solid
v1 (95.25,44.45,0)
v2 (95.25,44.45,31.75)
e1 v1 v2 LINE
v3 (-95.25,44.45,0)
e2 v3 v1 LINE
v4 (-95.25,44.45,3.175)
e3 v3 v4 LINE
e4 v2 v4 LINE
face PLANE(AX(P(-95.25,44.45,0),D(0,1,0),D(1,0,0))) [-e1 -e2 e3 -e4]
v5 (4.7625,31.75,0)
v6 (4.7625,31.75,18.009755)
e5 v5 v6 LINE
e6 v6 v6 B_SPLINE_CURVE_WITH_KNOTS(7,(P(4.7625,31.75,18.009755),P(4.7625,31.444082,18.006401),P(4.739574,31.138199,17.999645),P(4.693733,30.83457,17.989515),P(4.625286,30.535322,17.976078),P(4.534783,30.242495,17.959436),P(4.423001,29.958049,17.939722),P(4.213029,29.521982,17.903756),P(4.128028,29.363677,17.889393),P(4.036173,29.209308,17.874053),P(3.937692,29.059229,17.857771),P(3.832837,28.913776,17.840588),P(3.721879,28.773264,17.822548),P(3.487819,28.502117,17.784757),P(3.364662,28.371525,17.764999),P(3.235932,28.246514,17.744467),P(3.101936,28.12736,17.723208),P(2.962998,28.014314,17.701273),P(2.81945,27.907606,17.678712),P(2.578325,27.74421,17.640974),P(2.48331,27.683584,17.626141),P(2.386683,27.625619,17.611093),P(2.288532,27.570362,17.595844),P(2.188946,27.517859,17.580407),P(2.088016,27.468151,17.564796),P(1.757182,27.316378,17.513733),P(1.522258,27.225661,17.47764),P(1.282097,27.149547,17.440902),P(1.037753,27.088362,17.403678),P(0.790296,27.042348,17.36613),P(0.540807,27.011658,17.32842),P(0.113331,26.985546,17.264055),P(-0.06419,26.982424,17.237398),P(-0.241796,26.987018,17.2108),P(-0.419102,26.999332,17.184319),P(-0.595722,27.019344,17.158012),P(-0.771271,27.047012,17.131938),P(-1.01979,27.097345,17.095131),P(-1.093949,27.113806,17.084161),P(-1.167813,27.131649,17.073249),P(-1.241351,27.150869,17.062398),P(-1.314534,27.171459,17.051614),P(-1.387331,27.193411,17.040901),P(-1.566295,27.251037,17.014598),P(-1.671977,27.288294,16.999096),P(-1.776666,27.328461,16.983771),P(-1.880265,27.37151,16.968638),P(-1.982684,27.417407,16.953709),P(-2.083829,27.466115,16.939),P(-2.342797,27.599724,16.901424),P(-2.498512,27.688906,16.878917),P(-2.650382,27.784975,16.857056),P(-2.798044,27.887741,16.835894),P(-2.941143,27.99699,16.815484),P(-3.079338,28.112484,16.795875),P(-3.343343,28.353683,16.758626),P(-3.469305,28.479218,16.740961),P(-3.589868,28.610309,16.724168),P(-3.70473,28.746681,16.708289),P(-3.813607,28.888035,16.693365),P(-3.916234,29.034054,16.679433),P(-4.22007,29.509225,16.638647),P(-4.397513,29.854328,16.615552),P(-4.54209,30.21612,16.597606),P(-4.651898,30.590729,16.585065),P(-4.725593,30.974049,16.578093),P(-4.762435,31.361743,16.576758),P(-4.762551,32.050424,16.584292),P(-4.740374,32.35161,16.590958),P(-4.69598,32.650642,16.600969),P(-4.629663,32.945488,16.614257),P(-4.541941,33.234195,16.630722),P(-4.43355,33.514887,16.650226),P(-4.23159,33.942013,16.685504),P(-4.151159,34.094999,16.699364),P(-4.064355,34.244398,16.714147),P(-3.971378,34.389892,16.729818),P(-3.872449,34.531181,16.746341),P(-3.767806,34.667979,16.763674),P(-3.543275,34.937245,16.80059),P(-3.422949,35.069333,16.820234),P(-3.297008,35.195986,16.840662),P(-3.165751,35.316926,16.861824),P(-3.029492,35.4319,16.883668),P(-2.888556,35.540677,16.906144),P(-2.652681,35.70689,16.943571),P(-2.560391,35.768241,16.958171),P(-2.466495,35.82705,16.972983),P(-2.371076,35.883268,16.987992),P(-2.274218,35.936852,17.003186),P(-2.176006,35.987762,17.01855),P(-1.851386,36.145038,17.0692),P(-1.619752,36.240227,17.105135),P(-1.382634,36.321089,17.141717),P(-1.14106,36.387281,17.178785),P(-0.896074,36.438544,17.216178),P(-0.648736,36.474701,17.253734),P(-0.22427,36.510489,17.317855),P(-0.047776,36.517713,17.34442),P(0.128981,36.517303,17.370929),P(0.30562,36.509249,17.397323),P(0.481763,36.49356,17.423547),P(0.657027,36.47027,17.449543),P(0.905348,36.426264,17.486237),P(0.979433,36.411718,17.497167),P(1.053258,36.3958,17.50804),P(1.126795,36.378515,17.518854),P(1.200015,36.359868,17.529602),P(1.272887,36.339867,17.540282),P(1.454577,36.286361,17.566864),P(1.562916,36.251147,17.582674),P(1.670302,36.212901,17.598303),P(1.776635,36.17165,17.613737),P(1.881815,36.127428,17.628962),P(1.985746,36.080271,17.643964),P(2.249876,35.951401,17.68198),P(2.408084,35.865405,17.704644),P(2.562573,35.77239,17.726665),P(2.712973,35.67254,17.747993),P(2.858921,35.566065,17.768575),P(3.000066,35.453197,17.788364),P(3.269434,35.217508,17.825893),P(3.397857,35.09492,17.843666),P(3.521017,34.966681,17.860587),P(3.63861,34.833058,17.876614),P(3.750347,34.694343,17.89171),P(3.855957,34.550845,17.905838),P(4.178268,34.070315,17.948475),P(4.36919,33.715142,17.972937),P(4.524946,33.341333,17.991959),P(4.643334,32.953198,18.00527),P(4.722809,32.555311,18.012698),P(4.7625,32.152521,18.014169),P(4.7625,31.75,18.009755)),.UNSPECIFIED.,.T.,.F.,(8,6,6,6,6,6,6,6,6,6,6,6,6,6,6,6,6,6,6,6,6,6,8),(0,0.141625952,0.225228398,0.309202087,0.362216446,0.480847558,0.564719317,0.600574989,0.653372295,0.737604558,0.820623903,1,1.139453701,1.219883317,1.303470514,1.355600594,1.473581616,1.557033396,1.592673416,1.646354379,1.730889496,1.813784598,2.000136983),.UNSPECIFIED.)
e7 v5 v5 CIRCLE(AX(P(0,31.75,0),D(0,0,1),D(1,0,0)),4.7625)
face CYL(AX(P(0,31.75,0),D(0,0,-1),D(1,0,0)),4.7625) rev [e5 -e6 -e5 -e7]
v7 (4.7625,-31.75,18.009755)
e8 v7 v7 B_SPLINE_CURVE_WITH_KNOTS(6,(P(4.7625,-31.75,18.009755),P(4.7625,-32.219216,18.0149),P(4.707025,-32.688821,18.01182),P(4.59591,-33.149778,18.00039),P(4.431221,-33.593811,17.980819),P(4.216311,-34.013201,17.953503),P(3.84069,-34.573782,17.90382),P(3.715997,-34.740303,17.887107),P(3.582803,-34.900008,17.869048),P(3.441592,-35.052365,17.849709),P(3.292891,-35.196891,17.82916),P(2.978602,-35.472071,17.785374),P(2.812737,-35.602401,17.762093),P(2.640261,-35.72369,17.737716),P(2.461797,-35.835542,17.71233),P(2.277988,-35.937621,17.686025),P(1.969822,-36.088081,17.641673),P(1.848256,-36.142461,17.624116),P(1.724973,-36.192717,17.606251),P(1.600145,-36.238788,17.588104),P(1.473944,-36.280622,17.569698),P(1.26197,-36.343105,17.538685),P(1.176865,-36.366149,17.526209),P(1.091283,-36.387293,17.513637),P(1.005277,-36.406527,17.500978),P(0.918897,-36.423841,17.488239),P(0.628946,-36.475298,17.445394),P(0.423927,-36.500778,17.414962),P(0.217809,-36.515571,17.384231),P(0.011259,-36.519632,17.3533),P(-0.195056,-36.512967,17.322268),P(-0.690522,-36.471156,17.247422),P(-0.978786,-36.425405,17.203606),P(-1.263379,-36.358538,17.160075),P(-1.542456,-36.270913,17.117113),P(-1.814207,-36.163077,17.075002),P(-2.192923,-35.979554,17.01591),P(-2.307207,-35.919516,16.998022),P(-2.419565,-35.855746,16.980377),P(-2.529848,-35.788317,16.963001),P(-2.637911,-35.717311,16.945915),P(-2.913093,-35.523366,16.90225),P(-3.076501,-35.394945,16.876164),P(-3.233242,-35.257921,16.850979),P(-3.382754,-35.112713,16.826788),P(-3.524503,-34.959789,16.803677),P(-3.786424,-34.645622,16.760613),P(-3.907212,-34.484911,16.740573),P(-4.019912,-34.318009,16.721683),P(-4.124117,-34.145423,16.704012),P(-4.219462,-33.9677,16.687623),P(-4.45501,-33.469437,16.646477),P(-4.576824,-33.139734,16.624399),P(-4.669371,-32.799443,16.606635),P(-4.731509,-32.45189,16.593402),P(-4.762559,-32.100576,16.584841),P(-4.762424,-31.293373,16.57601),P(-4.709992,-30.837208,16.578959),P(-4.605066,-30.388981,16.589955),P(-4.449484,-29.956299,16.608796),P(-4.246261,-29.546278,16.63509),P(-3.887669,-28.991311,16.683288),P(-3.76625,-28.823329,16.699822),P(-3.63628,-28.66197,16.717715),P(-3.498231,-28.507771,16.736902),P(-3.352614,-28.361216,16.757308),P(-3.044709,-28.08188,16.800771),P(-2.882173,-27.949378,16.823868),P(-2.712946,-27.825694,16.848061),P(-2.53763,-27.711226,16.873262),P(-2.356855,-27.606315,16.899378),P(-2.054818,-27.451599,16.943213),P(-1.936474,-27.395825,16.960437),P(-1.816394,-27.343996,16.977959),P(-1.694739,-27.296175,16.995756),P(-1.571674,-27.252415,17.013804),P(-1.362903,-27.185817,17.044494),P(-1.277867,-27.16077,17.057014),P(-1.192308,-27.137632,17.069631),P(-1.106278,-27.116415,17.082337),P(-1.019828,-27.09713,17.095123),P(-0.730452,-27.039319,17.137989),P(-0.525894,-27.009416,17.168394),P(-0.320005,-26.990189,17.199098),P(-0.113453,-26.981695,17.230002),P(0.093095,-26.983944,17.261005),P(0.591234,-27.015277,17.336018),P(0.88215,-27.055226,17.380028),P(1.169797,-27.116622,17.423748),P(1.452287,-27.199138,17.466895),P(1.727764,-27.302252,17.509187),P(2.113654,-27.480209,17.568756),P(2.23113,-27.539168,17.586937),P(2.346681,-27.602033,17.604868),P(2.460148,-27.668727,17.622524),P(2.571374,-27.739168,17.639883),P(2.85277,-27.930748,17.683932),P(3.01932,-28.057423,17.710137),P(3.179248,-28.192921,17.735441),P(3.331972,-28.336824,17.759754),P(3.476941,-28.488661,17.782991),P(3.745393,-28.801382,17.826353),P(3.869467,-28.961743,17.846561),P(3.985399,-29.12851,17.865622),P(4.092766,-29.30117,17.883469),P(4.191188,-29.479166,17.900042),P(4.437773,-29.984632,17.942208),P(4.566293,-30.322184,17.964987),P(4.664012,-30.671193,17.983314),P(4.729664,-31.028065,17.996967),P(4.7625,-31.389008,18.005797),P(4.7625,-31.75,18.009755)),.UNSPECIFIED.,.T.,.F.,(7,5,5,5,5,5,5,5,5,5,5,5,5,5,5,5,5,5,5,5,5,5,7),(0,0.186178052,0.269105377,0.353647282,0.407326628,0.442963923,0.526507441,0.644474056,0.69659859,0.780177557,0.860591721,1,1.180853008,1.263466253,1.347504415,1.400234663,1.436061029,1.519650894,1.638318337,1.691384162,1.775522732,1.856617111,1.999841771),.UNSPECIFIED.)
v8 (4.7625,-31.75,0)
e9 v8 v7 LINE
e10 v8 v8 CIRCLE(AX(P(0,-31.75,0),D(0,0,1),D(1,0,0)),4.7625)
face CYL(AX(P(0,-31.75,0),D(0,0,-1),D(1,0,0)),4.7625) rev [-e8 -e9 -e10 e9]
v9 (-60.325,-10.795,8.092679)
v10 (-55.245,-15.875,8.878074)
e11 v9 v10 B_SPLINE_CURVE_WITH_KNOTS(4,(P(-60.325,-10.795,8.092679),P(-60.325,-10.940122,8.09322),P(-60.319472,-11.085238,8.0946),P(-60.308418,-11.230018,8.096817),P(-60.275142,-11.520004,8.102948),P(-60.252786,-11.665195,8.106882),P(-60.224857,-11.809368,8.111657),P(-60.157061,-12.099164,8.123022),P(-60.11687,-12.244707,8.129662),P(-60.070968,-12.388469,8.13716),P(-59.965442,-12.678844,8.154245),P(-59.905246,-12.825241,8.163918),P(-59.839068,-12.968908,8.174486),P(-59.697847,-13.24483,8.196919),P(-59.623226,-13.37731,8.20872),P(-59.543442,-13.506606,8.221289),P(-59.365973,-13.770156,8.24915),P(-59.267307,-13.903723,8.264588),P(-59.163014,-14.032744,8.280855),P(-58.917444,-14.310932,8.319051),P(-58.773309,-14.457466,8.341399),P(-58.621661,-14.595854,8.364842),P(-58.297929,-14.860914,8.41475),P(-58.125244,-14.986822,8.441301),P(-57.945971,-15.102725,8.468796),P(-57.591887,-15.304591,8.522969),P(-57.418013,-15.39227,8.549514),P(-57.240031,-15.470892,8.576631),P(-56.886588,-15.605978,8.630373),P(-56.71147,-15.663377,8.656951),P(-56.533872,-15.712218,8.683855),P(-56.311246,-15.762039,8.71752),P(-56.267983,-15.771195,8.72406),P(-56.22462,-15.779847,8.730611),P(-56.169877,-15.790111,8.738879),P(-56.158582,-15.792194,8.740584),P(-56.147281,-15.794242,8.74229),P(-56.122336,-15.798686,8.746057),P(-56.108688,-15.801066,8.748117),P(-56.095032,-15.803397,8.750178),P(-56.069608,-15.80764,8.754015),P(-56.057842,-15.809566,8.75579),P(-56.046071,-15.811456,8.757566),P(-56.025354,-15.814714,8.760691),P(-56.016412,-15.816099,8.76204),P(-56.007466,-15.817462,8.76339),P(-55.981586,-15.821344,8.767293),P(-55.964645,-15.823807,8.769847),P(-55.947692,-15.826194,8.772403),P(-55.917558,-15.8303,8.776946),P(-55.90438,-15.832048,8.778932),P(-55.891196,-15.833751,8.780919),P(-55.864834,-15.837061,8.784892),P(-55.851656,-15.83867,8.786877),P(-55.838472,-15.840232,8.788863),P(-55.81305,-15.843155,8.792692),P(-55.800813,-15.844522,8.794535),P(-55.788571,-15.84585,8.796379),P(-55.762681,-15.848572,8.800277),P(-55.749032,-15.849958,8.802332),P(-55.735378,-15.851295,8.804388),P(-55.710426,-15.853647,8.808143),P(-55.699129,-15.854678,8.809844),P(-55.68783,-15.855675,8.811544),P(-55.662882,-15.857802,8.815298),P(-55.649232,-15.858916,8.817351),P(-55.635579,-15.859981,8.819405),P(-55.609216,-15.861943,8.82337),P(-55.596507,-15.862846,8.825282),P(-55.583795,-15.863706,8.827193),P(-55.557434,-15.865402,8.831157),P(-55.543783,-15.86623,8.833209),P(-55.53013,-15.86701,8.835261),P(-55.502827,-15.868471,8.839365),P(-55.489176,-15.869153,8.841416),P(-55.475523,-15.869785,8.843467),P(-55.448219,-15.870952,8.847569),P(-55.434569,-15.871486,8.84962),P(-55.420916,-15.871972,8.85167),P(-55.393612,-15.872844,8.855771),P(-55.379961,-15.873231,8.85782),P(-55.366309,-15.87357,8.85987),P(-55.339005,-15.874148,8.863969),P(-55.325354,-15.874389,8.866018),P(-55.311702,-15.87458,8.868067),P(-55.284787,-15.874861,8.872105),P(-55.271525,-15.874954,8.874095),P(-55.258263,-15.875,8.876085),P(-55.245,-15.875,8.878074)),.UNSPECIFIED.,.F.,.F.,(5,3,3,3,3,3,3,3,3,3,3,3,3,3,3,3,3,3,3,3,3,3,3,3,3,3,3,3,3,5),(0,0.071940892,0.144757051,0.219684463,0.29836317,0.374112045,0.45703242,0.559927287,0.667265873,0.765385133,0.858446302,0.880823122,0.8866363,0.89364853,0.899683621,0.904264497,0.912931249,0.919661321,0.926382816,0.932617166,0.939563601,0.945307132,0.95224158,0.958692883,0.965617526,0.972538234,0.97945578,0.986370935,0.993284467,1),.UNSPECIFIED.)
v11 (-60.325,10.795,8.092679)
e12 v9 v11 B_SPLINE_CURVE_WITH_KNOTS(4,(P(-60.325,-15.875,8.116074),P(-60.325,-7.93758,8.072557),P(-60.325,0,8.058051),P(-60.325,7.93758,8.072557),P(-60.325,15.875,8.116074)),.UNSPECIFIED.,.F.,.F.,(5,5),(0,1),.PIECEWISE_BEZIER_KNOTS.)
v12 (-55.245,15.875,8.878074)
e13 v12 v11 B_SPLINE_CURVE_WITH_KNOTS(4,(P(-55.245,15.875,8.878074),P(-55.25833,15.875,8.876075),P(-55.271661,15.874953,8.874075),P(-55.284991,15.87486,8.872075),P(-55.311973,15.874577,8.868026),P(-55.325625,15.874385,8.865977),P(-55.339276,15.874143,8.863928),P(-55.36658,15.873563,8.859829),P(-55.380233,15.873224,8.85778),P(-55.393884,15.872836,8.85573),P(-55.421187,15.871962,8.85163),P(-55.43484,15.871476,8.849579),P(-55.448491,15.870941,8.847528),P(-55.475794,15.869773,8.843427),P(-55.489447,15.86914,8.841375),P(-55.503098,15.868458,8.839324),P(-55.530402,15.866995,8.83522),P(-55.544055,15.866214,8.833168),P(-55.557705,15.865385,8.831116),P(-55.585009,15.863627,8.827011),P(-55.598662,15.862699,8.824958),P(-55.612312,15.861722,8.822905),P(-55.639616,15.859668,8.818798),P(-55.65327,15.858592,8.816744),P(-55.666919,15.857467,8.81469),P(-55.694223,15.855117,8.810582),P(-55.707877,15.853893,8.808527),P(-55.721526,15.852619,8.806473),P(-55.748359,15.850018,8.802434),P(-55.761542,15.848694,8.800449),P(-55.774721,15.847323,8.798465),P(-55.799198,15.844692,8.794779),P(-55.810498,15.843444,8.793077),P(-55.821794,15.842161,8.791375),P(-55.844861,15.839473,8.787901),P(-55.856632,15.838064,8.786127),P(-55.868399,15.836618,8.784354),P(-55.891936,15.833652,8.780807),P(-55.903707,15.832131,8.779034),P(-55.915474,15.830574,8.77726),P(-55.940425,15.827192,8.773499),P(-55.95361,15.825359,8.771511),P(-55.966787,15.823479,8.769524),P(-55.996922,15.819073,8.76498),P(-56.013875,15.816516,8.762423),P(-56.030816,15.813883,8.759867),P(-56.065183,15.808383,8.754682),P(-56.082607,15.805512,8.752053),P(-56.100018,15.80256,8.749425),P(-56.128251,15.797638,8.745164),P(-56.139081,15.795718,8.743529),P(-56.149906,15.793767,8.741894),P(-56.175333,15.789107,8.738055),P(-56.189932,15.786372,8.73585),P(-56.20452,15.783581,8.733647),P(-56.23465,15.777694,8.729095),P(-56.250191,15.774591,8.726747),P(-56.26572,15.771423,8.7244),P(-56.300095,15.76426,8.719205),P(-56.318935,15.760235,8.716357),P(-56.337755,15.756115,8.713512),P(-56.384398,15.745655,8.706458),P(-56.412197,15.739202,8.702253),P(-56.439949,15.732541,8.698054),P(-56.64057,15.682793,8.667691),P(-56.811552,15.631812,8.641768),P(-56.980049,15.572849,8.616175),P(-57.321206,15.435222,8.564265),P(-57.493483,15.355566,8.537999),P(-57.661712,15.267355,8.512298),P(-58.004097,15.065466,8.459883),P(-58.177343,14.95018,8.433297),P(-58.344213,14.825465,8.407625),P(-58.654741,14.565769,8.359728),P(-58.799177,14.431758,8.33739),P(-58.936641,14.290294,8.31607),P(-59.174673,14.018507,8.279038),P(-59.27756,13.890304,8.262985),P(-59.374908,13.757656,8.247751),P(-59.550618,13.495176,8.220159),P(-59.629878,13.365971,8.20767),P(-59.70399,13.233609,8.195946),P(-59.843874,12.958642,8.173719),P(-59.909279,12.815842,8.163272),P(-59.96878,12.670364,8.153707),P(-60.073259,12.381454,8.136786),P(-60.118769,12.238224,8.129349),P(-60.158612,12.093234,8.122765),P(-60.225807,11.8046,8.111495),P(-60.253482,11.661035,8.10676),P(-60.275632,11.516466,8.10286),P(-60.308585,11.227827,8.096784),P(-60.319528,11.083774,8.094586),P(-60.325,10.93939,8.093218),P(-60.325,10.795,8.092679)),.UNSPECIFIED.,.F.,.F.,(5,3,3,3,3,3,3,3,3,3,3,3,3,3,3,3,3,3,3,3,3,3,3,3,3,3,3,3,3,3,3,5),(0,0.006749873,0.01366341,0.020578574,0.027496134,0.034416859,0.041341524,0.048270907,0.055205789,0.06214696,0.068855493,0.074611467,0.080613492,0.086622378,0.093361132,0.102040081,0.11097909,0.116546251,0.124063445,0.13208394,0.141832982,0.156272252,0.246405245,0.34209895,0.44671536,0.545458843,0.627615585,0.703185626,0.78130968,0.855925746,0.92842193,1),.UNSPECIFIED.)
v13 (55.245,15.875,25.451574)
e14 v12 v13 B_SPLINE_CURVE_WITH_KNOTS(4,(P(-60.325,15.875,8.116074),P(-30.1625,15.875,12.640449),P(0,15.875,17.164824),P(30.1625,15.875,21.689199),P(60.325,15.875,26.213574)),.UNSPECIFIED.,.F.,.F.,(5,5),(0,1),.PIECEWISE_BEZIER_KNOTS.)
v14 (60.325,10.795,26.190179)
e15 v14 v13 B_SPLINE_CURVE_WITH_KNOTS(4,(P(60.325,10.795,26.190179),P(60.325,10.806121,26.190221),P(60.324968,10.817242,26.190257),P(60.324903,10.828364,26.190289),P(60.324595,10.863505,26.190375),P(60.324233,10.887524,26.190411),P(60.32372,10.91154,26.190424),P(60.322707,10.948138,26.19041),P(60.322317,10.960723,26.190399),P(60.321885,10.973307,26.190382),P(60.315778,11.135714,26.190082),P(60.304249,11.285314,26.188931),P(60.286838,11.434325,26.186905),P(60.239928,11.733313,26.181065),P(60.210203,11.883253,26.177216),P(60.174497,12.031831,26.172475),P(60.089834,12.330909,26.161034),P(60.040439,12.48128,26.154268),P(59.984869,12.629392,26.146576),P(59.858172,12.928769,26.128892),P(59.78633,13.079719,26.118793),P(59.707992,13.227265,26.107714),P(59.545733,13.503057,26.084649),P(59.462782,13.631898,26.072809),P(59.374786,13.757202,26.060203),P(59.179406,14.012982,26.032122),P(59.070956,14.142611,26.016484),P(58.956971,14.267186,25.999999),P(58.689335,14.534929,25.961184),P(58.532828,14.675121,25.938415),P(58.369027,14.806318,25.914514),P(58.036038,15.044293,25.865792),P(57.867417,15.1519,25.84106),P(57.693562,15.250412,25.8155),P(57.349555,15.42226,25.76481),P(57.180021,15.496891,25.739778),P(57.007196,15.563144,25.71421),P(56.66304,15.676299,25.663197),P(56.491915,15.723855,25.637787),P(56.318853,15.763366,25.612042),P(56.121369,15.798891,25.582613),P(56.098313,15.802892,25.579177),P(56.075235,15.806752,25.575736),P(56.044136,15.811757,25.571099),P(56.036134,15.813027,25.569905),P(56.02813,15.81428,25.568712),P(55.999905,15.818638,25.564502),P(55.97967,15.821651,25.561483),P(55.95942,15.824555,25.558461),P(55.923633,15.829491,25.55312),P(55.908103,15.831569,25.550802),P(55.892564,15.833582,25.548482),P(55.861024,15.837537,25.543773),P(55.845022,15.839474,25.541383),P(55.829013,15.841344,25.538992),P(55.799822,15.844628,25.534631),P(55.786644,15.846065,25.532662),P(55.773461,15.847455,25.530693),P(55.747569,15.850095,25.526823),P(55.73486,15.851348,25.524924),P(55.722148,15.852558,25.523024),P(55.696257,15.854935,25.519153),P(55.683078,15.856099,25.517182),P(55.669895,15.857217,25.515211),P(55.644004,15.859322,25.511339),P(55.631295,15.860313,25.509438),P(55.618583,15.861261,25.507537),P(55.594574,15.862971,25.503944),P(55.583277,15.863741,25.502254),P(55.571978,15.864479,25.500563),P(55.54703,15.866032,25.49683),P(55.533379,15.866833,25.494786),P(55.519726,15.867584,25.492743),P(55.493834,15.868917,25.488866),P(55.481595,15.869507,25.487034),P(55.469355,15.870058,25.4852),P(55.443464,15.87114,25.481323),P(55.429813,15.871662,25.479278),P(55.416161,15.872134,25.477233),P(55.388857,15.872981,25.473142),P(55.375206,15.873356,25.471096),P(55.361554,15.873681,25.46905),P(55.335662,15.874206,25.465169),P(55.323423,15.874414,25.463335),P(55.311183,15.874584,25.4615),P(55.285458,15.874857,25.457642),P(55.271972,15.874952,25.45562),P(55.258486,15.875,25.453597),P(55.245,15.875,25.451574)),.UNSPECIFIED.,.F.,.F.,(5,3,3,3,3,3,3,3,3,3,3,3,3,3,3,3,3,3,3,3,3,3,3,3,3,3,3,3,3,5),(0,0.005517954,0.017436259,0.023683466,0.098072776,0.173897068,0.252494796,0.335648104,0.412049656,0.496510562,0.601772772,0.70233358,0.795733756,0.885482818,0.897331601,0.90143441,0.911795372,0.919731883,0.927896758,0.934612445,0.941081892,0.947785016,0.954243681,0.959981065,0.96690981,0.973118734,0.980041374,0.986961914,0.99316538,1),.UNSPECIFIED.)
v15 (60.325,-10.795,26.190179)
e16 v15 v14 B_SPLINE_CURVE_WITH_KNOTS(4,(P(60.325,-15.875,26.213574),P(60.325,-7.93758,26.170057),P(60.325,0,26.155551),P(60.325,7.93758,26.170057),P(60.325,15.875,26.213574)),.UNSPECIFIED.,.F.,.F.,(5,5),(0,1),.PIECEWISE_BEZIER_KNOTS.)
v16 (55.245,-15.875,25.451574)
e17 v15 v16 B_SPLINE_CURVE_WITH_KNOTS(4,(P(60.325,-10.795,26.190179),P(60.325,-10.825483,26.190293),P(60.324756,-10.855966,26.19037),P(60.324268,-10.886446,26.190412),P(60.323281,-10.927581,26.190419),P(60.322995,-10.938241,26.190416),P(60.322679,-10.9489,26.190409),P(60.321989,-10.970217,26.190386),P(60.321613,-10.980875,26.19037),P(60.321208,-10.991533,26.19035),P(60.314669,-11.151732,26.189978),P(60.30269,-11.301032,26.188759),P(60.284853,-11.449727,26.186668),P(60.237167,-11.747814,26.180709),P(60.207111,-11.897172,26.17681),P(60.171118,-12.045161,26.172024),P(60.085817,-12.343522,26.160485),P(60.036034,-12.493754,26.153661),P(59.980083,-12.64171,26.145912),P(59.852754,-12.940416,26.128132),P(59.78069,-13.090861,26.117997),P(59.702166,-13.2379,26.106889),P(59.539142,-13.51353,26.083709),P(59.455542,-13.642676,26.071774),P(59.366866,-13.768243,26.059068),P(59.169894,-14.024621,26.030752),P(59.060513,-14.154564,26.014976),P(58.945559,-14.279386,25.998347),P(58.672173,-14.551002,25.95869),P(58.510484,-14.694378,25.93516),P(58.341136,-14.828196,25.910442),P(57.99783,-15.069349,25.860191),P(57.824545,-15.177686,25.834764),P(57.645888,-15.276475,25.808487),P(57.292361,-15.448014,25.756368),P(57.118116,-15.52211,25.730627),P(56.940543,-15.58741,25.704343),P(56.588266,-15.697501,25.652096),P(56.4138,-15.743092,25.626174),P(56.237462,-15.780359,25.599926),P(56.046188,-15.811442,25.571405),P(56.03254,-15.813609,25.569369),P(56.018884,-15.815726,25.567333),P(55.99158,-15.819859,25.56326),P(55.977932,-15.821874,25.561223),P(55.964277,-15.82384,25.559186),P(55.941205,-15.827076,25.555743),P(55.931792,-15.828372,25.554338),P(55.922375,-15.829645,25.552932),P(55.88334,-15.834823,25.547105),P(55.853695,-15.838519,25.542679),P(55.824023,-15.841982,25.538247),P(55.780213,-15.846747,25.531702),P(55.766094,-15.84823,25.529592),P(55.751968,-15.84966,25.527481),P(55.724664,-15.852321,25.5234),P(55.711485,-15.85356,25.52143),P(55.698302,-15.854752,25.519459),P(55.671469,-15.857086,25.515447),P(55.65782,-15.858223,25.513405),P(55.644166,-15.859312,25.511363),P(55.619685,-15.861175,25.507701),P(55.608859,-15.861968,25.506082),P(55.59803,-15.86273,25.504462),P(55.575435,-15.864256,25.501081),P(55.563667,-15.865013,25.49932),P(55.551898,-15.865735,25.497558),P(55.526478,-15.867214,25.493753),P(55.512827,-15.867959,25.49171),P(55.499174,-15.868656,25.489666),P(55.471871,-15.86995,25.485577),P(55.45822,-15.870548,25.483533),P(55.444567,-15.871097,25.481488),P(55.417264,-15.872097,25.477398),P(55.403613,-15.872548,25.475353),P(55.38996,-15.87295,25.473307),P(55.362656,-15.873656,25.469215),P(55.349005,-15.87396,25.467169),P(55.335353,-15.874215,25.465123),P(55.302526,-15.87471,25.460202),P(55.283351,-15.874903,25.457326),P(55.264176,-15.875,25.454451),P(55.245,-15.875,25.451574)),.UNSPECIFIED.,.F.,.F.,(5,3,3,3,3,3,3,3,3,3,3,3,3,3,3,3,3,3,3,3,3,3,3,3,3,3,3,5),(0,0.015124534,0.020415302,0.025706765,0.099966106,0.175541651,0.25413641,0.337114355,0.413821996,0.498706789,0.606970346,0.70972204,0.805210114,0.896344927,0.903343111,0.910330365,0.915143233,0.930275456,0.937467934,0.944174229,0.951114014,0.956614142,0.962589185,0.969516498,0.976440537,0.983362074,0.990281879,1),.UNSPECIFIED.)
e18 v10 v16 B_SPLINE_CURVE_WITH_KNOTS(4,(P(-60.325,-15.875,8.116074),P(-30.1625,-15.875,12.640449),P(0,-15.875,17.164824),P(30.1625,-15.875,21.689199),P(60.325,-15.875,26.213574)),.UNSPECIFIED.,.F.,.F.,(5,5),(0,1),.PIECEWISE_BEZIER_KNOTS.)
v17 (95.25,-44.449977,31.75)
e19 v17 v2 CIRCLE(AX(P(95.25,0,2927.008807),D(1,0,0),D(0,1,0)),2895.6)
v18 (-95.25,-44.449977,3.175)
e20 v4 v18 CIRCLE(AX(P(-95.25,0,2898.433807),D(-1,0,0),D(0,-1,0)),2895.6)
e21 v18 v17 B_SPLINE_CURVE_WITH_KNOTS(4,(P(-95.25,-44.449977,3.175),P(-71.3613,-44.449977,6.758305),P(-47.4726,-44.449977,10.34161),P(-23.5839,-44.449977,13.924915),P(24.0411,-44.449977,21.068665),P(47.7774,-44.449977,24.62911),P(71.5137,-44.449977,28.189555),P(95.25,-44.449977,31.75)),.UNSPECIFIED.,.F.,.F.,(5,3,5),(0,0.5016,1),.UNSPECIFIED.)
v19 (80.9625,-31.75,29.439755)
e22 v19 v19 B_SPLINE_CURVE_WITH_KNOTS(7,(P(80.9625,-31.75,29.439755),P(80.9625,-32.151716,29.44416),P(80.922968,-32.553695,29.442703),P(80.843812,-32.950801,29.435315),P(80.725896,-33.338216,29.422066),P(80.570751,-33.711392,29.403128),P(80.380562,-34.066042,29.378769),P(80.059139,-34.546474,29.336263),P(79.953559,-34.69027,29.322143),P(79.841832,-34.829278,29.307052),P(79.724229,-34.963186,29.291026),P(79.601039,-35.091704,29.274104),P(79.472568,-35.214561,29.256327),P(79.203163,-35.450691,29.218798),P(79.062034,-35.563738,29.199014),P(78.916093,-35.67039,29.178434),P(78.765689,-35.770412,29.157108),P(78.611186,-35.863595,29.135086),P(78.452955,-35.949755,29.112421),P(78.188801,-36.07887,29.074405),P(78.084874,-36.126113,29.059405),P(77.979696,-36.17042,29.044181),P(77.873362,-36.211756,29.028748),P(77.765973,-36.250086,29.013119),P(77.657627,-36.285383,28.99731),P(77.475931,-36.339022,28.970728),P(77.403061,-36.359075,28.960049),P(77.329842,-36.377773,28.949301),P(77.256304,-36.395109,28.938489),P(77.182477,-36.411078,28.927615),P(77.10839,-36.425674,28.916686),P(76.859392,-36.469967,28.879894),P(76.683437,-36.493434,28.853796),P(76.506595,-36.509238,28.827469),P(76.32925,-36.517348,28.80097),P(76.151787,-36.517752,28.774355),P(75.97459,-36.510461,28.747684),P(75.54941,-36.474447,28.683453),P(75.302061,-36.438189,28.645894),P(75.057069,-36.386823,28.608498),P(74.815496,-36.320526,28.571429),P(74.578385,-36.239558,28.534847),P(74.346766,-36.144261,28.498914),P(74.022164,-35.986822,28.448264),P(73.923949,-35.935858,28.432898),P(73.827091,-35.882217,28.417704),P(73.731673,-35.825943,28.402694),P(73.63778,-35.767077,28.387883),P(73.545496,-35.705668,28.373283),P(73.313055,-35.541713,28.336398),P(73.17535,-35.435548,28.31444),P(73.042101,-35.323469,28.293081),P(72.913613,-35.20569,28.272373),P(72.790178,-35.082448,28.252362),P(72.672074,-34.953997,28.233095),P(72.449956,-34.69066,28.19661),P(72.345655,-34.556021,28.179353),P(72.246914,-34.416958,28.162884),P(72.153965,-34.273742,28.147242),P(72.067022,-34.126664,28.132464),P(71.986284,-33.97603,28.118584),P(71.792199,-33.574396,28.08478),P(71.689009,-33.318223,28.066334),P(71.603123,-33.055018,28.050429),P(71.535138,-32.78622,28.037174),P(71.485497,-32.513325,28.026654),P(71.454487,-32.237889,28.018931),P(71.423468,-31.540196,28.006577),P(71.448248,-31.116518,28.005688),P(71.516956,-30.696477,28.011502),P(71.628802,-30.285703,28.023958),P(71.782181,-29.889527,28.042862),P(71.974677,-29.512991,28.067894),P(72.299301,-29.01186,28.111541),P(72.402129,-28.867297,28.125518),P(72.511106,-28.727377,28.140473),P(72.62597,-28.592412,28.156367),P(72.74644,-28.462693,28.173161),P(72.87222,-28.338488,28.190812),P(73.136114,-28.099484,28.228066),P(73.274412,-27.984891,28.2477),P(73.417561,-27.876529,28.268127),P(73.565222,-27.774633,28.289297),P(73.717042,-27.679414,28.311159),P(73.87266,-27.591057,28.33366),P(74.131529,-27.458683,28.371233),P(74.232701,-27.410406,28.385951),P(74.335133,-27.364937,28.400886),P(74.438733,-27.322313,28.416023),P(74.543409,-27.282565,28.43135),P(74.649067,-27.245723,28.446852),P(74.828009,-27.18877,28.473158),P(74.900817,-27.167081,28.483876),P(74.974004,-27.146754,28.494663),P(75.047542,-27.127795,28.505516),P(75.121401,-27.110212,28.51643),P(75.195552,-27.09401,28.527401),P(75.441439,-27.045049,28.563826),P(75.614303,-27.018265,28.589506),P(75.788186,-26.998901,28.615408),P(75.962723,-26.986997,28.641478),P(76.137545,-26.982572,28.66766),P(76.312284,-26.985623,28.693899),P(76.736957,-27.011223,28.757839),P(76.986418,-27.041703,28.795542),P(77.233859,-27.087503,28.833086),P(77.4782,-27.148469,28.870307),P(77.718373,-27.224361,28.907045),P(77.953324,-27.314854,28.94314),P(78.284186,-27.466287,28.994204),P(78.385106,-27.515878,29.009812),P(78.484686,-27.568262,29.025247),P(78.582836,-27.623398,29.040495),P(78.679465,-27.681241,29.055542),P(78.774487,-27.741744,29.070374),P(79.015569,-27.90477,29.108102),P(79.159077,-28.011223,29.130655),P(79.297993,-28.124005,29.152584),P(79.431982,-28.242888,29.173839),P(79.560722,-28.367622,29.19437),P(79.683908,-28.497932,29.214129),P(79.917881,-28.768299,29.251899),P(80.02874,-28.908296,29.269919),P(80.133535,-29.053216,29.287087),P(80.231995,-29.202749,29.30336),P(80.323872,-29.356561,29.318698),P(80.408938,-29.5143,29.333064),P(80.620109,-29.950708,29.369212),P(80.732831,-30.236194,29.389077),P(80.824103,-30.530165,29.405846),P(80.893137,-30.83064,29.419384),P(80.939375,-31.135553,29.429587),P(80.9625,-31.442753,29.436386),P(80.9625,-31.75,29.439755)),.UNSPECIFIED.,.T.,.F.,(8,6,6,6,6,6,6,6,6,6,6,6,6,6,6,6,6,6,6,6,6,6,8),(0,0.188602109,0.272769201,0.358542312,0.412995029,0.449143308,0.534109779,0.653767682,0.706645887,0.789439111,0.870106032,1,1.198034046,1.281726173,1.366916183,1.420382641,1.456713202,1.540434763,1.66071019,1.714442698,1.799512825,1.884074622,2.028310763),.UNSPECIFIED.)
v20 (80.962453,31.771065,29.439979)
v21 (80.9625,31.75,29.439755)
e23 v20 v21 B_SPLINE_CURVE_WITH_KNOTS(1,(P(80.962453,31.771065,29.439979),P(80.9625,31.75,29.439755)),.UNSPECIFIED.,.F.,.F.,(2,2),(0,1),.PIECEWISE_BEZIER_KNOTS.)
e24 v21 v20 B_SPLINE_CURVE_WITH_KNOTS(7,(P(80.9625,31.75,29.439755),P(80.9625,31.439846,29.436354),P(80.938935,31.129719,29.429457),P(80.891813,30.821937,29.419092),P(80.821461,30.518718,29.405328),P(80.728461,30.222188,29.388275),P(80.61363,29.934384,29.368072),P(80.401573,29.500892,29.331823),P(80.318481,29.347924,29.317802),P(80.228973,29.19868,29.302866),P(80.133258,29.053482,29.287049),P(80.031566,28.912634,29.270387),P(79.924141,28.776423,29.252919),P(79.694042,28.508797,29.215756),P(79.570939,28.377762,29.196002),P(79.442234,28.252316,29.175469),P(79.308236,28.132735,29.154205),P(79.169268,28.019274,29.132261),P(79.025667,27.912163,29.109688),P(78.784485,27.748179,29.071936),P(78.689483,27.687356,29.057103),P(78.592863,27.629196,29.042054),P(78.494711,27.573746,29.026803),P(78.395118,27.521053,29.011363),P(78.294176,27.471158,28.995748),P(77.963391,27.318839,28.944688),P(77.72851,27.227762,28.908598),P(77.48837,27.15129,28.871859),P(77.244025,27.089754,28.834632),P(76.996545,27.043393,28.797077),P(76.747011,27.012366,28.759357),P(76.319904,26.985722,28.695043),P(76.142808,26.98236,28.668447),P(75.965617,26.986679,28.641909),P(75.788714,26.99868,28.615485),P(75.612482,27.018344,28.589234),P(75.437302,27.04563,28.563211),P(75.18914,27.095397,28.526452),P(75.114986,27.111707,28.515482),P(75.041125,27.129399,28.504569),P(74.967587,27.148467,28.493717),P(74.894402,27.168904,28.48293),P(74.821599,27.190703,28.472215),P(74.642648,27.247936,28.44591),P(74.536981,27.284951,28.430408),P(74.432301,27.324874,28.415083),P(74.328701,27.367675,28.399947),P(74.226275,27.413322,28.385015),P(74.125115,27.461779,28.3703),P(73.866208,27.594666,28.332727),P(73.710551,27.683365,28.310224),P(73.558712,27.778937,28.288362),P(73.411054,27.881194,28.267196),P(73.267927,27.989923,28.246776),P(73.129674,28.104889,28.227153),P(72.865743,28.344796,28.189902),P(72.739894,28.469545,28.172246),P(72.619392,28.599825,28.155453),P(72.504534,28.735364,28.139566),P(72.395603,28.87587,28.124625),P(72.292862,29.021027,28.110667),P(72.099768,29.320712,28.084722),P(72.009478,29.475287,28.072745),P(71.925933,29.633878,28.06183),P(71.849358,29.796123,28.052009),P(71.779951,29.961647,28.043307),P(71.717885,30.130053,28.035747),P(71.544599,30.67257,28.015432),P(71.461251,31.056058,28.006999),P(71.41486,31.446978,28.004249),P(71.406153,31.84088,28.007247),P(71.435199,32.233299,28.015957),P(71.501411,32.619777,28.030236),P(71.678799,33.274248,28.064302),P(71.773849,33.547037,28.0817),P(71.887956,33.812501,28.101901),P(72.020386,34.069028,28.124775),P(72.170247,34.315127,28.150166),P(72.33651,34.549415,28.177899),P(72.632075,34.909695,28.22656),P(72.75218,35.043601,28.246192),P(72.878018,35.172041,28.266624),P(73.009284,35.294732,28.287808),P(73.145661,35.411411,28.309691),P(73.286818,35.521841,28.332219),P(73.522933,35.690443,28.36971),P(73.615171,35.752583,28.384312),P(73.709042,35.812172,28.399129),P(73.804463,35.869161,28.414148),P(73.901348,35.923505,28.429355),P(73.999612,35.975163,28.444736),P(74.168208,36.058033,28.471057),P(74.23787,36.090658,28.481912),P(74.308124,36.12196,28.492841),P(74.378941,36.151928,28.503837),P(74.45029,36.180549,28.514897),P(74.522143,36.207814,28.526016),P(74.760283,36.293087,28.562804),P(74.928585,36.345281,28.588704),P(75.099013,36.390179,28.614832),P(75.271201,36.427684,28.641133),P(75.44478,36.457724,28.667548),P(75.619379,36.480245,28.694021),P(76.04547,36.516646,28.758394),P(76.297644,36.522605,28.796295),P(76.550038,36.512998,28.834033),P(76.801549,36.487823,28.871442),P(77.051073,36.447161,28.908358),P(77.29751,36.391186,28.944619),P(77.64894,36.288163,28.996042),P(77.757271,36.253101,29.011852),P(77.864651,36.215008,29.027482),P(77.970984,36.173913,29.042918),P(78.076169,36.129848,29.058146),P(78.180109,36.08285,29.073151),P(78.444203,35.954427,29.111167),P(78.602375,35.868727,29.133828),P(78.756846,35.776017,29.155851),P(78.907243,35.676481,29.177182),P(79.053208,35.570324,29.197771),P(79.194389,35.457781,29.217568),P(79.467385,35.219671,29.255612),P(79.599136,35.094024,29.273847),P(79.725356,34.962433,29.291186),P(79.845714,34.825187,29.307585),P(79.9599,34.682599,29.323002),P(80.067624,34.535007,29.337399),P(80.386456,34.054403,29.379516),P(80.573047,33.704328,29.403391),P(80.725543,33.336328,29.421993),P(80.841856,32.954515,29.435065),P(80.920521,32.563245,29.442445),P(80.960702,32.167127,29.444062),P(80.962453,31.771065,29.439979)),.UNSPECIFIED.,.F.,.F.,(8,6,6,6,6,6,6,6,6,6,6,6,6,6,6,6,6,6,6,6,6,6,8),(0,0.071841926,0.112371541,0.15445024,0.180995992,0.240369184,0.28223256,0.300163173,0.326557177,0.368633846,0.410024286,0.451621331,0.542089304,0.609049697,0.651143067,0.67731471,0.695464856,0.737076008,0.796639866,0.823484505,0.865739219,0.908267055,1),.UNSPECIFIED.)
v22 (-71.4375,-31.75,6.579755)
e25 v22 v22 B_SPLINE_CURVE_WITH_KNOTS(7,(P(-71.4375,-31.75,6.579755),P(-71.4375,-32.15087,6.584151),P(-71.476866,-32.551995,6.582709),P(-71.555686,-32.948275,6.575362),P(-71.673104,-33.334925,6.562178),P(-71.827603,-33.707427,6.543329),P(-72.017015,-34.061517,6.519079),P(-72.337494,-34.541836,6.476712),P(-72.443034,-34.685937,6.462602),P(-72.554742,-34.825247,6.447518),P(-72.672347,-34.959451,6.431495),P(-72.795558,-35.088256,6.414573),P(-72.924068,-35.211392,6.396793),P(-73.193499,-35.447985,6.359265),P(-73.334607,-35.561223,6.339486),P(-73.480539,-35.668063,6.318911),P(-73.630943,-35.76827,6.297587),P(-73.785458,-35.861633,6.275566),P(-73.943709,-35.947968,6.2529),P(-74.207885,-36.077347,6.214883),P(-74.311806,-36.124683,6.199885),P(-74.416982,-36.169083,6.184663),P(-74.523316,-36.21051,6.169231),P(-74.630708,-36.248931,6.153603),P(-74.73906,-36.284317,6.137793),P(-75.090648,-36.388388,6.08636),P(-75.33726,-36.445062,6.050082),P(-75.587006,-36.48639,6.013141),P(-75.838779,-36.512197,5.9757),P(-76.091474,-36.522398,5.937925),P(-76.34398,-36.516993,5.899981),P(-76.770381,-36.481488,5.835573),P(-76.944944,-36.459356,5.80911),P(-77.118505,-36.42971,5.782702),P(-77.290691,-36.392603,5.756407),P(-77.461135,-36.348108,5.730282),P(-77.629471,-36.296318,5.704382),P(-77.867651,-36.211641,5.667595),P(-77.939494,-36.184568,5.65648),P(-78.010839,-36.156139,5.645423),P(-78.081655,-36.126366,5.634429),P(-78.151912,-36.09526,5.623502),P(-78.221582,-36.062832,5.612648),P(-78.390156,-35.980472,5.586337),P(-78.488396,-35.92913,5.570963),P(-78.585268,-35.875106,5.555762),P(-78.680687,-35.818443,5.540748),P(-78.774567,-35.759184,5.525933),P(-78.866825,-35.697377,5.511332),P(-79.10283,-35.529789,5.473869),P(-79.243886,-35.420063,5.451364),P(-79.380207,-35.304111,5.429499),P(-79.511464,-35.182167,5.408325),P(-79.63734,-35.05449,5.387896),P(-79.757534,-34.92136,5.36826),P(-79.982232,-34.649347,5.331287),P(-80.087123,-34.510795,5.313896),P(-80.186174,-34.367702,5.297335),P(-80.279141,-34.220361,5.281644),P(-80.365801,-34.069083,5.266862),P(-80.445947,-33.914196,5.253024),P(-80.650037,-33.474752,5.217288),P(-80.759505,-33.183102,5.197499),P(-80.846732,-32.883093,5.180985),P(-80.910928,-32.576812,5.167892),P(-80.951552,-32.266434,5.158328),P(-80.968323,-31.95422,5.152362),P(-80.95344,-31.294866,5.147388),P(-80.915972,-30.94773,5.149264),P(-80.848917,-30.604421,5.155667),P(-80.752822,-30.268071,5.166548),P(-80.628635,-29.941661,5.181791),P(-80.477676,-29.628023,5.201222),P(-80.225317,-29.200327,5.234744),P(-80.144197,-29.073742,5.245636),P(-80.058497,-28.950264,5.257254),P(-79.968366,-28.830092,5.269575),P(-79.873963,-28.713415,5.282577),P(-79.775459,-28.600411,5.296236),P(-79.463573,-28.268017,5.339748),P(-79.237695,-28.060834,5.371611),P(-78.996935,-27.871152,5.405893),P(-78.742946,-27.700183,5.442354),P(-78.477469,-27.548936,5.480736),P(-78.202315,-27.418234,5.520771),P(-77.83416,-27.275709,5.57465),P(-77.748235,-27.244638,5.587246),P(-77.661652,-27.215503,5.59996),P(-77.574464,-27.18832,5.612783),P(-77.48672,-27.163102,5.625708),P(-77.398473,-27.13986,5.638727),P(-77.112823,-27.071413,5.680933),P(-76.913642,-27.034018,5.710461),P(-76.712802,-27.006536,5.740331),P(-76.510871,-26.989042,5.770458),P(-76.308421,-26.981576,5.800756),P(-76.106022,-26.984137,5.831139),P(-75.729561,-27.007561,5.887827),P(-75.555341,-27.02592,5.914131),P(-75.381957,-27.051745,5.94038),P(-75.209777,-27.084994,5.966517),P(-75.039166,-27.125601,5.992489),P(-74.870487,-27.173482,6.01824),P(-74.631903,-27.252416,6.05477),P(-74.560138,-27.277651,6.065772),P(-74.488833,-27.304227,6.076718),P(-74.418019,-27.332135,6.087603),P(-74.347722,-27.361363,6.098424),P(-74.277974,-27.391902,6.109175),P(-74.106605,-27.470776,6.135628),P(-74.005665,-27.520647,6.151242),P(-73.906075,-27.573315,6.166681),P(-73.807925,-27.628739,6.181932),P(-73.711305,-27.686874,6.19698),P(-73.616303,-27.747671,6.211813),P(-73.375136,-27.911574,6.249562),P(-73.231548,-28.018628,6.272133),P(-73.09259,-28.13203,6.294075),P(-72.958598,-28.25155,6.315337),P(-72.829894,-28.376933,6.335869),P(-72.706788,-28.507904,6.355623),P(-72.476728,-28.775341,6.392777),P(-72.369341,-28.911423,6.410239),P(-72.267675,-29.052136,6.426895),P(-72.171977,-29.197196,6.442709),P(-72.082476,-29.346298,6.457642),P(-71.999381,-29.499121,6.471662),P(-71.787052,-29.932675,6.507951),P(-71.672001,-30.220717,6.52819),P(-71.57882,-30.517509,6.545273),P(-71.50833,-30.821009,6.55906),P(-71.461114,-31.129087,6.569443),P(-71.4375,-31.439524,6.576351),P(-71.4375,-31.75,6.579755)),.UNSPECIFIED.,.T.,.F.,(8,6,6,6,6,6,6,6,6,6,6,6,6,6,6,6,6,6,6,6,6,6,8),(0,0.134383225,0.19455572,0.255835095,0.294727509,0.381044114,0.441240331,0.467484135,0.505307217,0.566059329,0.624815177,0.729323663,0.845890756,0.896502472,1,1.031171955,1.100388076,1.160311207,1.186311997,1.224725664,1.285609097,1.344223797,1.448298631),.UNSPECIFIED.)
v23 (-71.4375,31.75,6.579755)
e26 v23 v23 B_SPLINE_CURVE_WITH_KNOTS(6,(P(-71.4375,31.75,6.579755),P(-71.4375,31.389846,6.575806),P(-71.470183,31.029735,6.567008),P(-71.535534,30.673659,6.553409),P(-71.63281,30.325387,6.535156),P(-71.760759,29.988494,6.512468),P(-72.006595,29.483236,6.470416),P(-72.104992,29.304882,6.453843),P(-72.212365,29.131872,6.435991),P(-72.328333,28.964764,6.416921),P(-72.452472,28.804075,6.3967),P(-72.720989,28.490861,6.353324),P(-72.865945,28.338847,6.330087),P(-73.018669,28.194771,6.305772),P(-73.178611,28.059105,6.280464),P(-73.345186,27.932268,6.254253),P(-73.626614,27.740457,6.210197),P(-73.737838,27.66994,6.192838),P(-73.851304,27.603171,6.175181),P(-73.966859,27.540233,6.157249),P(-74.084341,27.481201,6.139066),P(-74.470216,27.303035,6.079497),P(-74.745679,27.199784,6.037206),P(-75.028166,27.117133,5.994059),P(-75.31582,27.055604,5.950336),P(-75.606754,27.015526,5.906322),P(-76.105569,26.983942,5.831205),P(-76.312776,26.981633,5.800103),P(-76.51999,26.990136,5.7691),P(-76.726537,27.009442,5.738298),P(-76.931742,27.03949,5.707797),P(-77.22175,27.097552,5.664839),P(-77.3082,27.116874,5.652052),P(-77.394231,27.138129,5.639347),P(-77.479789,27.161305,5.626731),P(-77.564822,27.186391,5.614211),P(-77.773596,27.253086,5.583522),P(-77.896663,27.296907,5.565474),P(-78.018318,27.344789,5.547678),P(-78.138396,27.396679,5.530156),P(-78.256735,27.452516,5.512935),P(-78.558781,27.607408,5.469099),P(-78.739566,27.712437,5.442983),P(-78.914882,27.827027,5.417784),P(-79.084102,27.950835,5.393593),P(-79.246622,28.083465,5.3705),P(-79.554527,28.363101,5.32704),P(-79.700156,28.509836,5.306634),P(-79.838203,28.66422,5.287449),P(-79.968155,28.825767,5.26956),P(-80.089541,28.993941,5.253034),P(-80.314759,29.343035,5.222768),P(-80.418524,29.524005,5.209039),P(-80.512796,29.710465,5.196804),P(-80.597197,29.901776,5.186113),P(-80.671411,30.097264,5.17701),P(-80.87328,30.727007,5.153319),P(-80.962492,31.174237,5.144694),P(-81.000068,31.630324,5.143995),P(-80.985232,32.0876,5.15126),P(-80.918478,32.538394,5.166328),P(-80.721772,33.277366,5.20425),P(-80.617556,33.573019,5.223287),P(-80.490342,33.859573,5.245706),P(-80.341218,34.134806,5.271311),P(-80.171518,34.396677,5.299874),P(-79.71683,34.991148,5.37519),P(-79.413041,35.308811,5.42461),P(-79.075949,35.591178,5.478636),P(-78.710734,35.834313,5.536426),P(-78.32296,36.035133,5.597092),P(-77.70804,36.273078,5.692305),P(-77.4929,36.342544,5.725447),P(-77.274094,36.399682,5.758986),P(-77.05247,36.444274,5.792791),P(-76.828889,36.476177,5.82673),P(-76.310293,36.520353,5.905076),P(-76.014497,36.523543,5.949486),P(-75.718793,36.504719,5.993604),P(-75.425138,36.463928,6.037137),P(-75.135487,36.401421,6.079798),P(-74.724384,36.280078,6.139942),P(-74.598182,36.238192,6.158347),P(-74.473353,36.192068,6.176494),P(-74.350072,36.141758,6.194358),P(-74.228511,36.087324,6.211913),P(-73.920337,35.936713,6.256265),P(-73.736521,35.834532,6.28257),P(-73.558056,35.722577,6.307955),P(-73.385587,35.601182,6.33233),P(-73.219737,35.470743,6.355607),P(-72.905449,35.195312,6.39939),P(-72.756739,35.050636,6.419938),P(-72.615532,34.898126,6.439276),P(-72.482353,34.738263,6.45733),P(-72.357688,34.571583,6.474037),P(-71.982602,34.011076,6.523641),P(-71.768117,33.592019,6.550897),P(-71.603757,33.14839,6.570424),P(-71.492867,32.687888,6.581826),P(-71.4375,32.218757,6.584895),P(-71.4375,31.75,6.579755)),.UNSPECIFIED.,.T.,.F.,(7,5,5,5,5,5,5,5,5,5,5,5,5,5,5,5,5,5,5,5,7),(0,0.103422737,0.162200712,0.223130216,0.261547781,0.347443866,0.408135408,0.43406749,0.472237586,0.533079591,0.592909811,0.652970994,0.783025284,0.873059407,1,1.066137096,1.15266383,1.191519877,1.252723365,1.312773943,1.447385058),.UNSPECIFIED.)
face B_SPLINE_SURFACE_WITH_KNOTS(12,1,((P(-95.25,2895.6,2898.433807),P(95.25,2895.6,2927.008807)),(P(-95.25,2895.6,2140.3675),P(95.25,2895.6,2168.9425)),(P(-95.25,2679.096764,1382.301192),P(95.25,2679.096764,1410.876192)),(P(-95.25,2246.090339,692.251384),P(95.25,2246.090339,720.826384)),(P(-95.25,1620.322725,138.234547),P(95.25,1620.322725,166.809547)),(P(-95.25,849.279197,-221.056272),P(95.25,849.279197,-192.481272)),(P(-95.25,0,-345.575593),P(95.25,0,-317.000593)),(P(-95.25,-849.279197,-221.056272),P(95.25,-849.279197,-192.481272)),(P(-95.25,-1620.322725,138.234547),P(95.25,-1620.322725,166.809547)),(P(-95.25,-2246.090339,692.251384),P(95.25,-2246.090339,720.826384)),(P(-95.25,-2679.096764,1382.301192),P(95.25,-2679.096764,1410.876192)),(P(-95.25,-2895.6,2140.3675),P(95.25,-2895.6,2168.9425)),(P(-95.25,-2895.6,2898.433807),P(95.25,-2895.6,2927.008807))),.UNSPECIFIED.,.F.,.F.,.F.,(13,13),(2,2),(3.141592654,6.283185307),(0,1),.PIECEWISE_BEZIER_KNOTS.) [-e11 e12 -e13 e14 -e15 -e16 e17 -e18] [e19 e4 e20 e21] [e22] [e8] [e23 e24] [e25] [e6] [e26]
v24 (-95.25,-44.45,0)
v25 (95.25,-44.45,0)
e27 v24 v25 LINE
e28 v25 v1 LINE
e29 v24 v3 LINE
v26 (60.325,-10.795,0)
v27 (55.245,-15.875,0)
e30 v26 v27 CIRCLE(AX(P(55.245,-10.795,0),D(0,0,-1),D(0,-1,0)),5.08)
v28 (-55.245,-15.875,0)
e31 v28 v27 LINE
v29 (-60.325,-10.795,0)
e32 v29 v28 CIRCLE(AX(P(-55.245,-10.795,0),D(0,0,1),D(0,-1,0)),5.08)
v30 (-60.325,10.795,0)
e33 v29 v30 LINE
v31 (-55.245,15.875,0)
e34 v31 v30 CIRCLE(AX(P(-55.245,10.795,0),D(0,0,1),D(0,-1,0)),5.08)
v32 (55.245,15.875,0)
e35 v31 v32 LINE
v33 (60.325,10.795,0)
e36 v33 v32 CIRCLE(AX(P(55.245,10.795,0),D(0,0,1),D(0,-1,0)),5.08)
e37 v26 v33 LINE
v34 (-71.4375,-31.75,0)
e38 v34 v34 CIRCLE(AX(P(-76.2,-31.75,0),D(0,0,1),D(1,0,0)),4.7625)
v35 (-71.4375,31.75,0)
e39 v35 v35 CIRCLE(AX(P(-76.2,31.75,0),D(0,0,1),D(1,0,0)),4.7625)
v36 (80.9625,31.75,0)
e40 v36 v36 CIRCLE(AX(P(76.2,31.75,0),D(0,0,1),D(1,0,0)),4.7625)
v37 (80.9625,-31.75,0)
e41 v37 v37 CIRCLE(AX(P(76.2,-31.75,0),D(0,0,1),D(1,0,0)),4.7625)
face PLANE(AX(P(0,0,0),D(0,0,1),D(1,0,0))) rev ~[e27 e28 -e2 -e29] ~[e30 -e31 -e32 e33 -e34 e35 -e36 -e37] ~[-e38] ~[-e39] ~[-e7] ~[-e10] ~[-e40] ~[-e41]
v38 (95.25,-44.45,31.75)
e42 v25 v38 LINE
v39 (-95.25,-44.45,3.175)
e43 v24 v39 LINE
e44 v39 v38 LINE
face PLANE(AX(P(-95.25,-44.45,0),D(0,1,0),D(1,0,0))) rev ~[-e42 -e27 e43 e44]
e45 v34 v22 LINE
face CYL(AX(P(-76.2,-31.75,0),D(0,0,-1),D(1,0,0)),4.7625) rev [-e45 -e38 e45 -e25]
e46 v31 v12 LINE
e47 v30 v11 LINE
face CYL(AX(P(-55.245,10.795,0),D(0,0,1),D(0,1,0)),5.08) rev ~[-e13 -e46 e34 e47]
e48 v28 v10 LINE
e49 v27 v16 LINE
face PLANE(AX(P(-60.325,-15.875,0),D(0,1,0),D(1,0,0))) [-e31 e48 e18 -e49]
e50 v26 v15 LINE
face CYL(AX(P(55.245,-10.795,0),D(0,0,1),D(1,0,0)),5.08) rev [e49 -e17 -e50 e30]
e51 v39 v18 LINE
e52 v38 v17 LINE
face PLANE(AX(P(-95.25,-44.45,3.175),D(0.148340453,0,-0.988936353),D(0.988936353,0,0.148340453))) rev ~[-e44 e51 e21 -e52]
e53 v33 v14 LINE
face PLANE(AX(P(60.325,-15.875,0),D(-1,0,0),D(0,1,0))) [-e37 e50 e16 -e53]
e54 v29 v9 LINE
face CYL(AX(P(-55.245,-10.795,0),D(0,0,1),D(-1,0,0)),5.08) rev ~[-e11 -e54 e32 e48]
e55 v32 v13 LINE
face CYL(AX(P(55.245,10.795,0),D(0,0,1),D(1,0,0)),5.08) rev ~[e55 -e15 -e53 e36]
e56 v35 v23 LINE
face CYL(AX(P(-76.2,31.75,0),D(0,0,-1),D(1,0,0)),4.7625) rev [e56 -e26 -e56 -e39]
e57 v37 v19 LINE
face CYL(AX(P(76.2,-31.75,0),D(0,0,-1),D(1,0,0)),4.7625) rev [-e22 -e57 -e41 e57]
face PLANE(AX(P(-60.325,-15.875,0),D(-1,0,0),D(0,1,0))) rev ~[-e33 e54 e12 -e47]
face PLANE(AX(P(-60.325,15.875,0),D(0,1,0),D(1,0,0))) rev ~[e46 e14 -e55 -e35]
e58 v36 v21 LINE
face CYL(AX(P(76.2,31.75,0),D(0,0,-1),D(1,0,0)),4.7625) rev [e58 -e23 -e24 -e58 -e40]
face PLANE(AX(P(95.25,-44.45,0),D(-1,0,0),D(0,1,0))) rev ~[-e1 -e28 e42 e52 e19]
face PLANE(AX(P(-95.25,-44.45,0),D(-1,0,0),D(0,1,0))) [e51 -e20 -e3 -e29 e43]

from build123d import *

# Parameters (mm, degrees)
F0_W     = 190.5
F0_H     = 88.9
F0_R     = 4.7625
F0_W_2   = 120.65
F0_H_2   = 31.75
F1_DEPTH = 50.8
F3_DEPTH = 88.901
F5_R     = 2895.6
F4_R     = 2895.6
F7_R     = 5.08


with BuildPart() as f1:
    # F0 (on Top) → F1 (new body)
    with BuildSketch(Plane.XY):
        Rectangle(F0_W, F0_H)
        with Locations((-76.2, -31.75)):
            Circle(F0_R, mode=Mode.SUBTRACT)
        with Locations((0, -31.75)):
            Circle(F0_R, mode=Mode.SUBTRACT)
        with Locations((76.2, -31.75)):
            Circle(F0_R, mode=Mode.SUBTRACT)
        with Locations((-76.2, 31.75)):
            Circle(F0_R, mode=Mode.SUBTRACT)
        Rectangle(F0_W_2, F0_H_2, mode=Mode.SUBTRACT)
        with Locations((0, 31.75)):
            Circle(F0_R, mode=Mode.SUBTRACT)
        with Locations((76.2, 31.75)):
            Circle(F0_R, mode=Mode.SUBTRACT)
    extrude(amount=F1_DEPTH)

    # F2 (on face) → F3 (cut, through all)
    with BuildSketch(Plane.XZ.offset(44.45)):
        Polygon((-129.30572, 83.835296), (-95.25, 3.175), (95.25, 31.75), (118.781321, 86.451776), align=None)
    extrude(amount=-F3_DEPTH, mode=Mode.SUBTRACT)

    # F5 (on face) → F6 section 0
    with BuildSketch(Plane(origin=(-95.25, 0, 0), x_dir=(0, -1, 0), z_dir=(-1, 0, 0))):
        with Locations((0, 2898.433807)):
            Circle(F5_R)
    # F4 (on face) → F6 section 1
    with BuildSketch(Plane.YZ.offset(95.25)):
        with Locations((0, 2927.008807)):
            Circle(F4_R)
    loft(mode=Mode.SUBTRACT)

    # F7
    f7_edges = [f1.edges().sort_by_distance(p)[0] for p in [
        (60.325, 15.875, 13.106787),
        (60.325, -15.875, 13.106787),
        (-60.325, -15.875, 4.058037),
        (-60.325, 15.875, 4.058037),
    ]]
    fillet(f7_edges, radius=F7_R)


solid = f1.part
